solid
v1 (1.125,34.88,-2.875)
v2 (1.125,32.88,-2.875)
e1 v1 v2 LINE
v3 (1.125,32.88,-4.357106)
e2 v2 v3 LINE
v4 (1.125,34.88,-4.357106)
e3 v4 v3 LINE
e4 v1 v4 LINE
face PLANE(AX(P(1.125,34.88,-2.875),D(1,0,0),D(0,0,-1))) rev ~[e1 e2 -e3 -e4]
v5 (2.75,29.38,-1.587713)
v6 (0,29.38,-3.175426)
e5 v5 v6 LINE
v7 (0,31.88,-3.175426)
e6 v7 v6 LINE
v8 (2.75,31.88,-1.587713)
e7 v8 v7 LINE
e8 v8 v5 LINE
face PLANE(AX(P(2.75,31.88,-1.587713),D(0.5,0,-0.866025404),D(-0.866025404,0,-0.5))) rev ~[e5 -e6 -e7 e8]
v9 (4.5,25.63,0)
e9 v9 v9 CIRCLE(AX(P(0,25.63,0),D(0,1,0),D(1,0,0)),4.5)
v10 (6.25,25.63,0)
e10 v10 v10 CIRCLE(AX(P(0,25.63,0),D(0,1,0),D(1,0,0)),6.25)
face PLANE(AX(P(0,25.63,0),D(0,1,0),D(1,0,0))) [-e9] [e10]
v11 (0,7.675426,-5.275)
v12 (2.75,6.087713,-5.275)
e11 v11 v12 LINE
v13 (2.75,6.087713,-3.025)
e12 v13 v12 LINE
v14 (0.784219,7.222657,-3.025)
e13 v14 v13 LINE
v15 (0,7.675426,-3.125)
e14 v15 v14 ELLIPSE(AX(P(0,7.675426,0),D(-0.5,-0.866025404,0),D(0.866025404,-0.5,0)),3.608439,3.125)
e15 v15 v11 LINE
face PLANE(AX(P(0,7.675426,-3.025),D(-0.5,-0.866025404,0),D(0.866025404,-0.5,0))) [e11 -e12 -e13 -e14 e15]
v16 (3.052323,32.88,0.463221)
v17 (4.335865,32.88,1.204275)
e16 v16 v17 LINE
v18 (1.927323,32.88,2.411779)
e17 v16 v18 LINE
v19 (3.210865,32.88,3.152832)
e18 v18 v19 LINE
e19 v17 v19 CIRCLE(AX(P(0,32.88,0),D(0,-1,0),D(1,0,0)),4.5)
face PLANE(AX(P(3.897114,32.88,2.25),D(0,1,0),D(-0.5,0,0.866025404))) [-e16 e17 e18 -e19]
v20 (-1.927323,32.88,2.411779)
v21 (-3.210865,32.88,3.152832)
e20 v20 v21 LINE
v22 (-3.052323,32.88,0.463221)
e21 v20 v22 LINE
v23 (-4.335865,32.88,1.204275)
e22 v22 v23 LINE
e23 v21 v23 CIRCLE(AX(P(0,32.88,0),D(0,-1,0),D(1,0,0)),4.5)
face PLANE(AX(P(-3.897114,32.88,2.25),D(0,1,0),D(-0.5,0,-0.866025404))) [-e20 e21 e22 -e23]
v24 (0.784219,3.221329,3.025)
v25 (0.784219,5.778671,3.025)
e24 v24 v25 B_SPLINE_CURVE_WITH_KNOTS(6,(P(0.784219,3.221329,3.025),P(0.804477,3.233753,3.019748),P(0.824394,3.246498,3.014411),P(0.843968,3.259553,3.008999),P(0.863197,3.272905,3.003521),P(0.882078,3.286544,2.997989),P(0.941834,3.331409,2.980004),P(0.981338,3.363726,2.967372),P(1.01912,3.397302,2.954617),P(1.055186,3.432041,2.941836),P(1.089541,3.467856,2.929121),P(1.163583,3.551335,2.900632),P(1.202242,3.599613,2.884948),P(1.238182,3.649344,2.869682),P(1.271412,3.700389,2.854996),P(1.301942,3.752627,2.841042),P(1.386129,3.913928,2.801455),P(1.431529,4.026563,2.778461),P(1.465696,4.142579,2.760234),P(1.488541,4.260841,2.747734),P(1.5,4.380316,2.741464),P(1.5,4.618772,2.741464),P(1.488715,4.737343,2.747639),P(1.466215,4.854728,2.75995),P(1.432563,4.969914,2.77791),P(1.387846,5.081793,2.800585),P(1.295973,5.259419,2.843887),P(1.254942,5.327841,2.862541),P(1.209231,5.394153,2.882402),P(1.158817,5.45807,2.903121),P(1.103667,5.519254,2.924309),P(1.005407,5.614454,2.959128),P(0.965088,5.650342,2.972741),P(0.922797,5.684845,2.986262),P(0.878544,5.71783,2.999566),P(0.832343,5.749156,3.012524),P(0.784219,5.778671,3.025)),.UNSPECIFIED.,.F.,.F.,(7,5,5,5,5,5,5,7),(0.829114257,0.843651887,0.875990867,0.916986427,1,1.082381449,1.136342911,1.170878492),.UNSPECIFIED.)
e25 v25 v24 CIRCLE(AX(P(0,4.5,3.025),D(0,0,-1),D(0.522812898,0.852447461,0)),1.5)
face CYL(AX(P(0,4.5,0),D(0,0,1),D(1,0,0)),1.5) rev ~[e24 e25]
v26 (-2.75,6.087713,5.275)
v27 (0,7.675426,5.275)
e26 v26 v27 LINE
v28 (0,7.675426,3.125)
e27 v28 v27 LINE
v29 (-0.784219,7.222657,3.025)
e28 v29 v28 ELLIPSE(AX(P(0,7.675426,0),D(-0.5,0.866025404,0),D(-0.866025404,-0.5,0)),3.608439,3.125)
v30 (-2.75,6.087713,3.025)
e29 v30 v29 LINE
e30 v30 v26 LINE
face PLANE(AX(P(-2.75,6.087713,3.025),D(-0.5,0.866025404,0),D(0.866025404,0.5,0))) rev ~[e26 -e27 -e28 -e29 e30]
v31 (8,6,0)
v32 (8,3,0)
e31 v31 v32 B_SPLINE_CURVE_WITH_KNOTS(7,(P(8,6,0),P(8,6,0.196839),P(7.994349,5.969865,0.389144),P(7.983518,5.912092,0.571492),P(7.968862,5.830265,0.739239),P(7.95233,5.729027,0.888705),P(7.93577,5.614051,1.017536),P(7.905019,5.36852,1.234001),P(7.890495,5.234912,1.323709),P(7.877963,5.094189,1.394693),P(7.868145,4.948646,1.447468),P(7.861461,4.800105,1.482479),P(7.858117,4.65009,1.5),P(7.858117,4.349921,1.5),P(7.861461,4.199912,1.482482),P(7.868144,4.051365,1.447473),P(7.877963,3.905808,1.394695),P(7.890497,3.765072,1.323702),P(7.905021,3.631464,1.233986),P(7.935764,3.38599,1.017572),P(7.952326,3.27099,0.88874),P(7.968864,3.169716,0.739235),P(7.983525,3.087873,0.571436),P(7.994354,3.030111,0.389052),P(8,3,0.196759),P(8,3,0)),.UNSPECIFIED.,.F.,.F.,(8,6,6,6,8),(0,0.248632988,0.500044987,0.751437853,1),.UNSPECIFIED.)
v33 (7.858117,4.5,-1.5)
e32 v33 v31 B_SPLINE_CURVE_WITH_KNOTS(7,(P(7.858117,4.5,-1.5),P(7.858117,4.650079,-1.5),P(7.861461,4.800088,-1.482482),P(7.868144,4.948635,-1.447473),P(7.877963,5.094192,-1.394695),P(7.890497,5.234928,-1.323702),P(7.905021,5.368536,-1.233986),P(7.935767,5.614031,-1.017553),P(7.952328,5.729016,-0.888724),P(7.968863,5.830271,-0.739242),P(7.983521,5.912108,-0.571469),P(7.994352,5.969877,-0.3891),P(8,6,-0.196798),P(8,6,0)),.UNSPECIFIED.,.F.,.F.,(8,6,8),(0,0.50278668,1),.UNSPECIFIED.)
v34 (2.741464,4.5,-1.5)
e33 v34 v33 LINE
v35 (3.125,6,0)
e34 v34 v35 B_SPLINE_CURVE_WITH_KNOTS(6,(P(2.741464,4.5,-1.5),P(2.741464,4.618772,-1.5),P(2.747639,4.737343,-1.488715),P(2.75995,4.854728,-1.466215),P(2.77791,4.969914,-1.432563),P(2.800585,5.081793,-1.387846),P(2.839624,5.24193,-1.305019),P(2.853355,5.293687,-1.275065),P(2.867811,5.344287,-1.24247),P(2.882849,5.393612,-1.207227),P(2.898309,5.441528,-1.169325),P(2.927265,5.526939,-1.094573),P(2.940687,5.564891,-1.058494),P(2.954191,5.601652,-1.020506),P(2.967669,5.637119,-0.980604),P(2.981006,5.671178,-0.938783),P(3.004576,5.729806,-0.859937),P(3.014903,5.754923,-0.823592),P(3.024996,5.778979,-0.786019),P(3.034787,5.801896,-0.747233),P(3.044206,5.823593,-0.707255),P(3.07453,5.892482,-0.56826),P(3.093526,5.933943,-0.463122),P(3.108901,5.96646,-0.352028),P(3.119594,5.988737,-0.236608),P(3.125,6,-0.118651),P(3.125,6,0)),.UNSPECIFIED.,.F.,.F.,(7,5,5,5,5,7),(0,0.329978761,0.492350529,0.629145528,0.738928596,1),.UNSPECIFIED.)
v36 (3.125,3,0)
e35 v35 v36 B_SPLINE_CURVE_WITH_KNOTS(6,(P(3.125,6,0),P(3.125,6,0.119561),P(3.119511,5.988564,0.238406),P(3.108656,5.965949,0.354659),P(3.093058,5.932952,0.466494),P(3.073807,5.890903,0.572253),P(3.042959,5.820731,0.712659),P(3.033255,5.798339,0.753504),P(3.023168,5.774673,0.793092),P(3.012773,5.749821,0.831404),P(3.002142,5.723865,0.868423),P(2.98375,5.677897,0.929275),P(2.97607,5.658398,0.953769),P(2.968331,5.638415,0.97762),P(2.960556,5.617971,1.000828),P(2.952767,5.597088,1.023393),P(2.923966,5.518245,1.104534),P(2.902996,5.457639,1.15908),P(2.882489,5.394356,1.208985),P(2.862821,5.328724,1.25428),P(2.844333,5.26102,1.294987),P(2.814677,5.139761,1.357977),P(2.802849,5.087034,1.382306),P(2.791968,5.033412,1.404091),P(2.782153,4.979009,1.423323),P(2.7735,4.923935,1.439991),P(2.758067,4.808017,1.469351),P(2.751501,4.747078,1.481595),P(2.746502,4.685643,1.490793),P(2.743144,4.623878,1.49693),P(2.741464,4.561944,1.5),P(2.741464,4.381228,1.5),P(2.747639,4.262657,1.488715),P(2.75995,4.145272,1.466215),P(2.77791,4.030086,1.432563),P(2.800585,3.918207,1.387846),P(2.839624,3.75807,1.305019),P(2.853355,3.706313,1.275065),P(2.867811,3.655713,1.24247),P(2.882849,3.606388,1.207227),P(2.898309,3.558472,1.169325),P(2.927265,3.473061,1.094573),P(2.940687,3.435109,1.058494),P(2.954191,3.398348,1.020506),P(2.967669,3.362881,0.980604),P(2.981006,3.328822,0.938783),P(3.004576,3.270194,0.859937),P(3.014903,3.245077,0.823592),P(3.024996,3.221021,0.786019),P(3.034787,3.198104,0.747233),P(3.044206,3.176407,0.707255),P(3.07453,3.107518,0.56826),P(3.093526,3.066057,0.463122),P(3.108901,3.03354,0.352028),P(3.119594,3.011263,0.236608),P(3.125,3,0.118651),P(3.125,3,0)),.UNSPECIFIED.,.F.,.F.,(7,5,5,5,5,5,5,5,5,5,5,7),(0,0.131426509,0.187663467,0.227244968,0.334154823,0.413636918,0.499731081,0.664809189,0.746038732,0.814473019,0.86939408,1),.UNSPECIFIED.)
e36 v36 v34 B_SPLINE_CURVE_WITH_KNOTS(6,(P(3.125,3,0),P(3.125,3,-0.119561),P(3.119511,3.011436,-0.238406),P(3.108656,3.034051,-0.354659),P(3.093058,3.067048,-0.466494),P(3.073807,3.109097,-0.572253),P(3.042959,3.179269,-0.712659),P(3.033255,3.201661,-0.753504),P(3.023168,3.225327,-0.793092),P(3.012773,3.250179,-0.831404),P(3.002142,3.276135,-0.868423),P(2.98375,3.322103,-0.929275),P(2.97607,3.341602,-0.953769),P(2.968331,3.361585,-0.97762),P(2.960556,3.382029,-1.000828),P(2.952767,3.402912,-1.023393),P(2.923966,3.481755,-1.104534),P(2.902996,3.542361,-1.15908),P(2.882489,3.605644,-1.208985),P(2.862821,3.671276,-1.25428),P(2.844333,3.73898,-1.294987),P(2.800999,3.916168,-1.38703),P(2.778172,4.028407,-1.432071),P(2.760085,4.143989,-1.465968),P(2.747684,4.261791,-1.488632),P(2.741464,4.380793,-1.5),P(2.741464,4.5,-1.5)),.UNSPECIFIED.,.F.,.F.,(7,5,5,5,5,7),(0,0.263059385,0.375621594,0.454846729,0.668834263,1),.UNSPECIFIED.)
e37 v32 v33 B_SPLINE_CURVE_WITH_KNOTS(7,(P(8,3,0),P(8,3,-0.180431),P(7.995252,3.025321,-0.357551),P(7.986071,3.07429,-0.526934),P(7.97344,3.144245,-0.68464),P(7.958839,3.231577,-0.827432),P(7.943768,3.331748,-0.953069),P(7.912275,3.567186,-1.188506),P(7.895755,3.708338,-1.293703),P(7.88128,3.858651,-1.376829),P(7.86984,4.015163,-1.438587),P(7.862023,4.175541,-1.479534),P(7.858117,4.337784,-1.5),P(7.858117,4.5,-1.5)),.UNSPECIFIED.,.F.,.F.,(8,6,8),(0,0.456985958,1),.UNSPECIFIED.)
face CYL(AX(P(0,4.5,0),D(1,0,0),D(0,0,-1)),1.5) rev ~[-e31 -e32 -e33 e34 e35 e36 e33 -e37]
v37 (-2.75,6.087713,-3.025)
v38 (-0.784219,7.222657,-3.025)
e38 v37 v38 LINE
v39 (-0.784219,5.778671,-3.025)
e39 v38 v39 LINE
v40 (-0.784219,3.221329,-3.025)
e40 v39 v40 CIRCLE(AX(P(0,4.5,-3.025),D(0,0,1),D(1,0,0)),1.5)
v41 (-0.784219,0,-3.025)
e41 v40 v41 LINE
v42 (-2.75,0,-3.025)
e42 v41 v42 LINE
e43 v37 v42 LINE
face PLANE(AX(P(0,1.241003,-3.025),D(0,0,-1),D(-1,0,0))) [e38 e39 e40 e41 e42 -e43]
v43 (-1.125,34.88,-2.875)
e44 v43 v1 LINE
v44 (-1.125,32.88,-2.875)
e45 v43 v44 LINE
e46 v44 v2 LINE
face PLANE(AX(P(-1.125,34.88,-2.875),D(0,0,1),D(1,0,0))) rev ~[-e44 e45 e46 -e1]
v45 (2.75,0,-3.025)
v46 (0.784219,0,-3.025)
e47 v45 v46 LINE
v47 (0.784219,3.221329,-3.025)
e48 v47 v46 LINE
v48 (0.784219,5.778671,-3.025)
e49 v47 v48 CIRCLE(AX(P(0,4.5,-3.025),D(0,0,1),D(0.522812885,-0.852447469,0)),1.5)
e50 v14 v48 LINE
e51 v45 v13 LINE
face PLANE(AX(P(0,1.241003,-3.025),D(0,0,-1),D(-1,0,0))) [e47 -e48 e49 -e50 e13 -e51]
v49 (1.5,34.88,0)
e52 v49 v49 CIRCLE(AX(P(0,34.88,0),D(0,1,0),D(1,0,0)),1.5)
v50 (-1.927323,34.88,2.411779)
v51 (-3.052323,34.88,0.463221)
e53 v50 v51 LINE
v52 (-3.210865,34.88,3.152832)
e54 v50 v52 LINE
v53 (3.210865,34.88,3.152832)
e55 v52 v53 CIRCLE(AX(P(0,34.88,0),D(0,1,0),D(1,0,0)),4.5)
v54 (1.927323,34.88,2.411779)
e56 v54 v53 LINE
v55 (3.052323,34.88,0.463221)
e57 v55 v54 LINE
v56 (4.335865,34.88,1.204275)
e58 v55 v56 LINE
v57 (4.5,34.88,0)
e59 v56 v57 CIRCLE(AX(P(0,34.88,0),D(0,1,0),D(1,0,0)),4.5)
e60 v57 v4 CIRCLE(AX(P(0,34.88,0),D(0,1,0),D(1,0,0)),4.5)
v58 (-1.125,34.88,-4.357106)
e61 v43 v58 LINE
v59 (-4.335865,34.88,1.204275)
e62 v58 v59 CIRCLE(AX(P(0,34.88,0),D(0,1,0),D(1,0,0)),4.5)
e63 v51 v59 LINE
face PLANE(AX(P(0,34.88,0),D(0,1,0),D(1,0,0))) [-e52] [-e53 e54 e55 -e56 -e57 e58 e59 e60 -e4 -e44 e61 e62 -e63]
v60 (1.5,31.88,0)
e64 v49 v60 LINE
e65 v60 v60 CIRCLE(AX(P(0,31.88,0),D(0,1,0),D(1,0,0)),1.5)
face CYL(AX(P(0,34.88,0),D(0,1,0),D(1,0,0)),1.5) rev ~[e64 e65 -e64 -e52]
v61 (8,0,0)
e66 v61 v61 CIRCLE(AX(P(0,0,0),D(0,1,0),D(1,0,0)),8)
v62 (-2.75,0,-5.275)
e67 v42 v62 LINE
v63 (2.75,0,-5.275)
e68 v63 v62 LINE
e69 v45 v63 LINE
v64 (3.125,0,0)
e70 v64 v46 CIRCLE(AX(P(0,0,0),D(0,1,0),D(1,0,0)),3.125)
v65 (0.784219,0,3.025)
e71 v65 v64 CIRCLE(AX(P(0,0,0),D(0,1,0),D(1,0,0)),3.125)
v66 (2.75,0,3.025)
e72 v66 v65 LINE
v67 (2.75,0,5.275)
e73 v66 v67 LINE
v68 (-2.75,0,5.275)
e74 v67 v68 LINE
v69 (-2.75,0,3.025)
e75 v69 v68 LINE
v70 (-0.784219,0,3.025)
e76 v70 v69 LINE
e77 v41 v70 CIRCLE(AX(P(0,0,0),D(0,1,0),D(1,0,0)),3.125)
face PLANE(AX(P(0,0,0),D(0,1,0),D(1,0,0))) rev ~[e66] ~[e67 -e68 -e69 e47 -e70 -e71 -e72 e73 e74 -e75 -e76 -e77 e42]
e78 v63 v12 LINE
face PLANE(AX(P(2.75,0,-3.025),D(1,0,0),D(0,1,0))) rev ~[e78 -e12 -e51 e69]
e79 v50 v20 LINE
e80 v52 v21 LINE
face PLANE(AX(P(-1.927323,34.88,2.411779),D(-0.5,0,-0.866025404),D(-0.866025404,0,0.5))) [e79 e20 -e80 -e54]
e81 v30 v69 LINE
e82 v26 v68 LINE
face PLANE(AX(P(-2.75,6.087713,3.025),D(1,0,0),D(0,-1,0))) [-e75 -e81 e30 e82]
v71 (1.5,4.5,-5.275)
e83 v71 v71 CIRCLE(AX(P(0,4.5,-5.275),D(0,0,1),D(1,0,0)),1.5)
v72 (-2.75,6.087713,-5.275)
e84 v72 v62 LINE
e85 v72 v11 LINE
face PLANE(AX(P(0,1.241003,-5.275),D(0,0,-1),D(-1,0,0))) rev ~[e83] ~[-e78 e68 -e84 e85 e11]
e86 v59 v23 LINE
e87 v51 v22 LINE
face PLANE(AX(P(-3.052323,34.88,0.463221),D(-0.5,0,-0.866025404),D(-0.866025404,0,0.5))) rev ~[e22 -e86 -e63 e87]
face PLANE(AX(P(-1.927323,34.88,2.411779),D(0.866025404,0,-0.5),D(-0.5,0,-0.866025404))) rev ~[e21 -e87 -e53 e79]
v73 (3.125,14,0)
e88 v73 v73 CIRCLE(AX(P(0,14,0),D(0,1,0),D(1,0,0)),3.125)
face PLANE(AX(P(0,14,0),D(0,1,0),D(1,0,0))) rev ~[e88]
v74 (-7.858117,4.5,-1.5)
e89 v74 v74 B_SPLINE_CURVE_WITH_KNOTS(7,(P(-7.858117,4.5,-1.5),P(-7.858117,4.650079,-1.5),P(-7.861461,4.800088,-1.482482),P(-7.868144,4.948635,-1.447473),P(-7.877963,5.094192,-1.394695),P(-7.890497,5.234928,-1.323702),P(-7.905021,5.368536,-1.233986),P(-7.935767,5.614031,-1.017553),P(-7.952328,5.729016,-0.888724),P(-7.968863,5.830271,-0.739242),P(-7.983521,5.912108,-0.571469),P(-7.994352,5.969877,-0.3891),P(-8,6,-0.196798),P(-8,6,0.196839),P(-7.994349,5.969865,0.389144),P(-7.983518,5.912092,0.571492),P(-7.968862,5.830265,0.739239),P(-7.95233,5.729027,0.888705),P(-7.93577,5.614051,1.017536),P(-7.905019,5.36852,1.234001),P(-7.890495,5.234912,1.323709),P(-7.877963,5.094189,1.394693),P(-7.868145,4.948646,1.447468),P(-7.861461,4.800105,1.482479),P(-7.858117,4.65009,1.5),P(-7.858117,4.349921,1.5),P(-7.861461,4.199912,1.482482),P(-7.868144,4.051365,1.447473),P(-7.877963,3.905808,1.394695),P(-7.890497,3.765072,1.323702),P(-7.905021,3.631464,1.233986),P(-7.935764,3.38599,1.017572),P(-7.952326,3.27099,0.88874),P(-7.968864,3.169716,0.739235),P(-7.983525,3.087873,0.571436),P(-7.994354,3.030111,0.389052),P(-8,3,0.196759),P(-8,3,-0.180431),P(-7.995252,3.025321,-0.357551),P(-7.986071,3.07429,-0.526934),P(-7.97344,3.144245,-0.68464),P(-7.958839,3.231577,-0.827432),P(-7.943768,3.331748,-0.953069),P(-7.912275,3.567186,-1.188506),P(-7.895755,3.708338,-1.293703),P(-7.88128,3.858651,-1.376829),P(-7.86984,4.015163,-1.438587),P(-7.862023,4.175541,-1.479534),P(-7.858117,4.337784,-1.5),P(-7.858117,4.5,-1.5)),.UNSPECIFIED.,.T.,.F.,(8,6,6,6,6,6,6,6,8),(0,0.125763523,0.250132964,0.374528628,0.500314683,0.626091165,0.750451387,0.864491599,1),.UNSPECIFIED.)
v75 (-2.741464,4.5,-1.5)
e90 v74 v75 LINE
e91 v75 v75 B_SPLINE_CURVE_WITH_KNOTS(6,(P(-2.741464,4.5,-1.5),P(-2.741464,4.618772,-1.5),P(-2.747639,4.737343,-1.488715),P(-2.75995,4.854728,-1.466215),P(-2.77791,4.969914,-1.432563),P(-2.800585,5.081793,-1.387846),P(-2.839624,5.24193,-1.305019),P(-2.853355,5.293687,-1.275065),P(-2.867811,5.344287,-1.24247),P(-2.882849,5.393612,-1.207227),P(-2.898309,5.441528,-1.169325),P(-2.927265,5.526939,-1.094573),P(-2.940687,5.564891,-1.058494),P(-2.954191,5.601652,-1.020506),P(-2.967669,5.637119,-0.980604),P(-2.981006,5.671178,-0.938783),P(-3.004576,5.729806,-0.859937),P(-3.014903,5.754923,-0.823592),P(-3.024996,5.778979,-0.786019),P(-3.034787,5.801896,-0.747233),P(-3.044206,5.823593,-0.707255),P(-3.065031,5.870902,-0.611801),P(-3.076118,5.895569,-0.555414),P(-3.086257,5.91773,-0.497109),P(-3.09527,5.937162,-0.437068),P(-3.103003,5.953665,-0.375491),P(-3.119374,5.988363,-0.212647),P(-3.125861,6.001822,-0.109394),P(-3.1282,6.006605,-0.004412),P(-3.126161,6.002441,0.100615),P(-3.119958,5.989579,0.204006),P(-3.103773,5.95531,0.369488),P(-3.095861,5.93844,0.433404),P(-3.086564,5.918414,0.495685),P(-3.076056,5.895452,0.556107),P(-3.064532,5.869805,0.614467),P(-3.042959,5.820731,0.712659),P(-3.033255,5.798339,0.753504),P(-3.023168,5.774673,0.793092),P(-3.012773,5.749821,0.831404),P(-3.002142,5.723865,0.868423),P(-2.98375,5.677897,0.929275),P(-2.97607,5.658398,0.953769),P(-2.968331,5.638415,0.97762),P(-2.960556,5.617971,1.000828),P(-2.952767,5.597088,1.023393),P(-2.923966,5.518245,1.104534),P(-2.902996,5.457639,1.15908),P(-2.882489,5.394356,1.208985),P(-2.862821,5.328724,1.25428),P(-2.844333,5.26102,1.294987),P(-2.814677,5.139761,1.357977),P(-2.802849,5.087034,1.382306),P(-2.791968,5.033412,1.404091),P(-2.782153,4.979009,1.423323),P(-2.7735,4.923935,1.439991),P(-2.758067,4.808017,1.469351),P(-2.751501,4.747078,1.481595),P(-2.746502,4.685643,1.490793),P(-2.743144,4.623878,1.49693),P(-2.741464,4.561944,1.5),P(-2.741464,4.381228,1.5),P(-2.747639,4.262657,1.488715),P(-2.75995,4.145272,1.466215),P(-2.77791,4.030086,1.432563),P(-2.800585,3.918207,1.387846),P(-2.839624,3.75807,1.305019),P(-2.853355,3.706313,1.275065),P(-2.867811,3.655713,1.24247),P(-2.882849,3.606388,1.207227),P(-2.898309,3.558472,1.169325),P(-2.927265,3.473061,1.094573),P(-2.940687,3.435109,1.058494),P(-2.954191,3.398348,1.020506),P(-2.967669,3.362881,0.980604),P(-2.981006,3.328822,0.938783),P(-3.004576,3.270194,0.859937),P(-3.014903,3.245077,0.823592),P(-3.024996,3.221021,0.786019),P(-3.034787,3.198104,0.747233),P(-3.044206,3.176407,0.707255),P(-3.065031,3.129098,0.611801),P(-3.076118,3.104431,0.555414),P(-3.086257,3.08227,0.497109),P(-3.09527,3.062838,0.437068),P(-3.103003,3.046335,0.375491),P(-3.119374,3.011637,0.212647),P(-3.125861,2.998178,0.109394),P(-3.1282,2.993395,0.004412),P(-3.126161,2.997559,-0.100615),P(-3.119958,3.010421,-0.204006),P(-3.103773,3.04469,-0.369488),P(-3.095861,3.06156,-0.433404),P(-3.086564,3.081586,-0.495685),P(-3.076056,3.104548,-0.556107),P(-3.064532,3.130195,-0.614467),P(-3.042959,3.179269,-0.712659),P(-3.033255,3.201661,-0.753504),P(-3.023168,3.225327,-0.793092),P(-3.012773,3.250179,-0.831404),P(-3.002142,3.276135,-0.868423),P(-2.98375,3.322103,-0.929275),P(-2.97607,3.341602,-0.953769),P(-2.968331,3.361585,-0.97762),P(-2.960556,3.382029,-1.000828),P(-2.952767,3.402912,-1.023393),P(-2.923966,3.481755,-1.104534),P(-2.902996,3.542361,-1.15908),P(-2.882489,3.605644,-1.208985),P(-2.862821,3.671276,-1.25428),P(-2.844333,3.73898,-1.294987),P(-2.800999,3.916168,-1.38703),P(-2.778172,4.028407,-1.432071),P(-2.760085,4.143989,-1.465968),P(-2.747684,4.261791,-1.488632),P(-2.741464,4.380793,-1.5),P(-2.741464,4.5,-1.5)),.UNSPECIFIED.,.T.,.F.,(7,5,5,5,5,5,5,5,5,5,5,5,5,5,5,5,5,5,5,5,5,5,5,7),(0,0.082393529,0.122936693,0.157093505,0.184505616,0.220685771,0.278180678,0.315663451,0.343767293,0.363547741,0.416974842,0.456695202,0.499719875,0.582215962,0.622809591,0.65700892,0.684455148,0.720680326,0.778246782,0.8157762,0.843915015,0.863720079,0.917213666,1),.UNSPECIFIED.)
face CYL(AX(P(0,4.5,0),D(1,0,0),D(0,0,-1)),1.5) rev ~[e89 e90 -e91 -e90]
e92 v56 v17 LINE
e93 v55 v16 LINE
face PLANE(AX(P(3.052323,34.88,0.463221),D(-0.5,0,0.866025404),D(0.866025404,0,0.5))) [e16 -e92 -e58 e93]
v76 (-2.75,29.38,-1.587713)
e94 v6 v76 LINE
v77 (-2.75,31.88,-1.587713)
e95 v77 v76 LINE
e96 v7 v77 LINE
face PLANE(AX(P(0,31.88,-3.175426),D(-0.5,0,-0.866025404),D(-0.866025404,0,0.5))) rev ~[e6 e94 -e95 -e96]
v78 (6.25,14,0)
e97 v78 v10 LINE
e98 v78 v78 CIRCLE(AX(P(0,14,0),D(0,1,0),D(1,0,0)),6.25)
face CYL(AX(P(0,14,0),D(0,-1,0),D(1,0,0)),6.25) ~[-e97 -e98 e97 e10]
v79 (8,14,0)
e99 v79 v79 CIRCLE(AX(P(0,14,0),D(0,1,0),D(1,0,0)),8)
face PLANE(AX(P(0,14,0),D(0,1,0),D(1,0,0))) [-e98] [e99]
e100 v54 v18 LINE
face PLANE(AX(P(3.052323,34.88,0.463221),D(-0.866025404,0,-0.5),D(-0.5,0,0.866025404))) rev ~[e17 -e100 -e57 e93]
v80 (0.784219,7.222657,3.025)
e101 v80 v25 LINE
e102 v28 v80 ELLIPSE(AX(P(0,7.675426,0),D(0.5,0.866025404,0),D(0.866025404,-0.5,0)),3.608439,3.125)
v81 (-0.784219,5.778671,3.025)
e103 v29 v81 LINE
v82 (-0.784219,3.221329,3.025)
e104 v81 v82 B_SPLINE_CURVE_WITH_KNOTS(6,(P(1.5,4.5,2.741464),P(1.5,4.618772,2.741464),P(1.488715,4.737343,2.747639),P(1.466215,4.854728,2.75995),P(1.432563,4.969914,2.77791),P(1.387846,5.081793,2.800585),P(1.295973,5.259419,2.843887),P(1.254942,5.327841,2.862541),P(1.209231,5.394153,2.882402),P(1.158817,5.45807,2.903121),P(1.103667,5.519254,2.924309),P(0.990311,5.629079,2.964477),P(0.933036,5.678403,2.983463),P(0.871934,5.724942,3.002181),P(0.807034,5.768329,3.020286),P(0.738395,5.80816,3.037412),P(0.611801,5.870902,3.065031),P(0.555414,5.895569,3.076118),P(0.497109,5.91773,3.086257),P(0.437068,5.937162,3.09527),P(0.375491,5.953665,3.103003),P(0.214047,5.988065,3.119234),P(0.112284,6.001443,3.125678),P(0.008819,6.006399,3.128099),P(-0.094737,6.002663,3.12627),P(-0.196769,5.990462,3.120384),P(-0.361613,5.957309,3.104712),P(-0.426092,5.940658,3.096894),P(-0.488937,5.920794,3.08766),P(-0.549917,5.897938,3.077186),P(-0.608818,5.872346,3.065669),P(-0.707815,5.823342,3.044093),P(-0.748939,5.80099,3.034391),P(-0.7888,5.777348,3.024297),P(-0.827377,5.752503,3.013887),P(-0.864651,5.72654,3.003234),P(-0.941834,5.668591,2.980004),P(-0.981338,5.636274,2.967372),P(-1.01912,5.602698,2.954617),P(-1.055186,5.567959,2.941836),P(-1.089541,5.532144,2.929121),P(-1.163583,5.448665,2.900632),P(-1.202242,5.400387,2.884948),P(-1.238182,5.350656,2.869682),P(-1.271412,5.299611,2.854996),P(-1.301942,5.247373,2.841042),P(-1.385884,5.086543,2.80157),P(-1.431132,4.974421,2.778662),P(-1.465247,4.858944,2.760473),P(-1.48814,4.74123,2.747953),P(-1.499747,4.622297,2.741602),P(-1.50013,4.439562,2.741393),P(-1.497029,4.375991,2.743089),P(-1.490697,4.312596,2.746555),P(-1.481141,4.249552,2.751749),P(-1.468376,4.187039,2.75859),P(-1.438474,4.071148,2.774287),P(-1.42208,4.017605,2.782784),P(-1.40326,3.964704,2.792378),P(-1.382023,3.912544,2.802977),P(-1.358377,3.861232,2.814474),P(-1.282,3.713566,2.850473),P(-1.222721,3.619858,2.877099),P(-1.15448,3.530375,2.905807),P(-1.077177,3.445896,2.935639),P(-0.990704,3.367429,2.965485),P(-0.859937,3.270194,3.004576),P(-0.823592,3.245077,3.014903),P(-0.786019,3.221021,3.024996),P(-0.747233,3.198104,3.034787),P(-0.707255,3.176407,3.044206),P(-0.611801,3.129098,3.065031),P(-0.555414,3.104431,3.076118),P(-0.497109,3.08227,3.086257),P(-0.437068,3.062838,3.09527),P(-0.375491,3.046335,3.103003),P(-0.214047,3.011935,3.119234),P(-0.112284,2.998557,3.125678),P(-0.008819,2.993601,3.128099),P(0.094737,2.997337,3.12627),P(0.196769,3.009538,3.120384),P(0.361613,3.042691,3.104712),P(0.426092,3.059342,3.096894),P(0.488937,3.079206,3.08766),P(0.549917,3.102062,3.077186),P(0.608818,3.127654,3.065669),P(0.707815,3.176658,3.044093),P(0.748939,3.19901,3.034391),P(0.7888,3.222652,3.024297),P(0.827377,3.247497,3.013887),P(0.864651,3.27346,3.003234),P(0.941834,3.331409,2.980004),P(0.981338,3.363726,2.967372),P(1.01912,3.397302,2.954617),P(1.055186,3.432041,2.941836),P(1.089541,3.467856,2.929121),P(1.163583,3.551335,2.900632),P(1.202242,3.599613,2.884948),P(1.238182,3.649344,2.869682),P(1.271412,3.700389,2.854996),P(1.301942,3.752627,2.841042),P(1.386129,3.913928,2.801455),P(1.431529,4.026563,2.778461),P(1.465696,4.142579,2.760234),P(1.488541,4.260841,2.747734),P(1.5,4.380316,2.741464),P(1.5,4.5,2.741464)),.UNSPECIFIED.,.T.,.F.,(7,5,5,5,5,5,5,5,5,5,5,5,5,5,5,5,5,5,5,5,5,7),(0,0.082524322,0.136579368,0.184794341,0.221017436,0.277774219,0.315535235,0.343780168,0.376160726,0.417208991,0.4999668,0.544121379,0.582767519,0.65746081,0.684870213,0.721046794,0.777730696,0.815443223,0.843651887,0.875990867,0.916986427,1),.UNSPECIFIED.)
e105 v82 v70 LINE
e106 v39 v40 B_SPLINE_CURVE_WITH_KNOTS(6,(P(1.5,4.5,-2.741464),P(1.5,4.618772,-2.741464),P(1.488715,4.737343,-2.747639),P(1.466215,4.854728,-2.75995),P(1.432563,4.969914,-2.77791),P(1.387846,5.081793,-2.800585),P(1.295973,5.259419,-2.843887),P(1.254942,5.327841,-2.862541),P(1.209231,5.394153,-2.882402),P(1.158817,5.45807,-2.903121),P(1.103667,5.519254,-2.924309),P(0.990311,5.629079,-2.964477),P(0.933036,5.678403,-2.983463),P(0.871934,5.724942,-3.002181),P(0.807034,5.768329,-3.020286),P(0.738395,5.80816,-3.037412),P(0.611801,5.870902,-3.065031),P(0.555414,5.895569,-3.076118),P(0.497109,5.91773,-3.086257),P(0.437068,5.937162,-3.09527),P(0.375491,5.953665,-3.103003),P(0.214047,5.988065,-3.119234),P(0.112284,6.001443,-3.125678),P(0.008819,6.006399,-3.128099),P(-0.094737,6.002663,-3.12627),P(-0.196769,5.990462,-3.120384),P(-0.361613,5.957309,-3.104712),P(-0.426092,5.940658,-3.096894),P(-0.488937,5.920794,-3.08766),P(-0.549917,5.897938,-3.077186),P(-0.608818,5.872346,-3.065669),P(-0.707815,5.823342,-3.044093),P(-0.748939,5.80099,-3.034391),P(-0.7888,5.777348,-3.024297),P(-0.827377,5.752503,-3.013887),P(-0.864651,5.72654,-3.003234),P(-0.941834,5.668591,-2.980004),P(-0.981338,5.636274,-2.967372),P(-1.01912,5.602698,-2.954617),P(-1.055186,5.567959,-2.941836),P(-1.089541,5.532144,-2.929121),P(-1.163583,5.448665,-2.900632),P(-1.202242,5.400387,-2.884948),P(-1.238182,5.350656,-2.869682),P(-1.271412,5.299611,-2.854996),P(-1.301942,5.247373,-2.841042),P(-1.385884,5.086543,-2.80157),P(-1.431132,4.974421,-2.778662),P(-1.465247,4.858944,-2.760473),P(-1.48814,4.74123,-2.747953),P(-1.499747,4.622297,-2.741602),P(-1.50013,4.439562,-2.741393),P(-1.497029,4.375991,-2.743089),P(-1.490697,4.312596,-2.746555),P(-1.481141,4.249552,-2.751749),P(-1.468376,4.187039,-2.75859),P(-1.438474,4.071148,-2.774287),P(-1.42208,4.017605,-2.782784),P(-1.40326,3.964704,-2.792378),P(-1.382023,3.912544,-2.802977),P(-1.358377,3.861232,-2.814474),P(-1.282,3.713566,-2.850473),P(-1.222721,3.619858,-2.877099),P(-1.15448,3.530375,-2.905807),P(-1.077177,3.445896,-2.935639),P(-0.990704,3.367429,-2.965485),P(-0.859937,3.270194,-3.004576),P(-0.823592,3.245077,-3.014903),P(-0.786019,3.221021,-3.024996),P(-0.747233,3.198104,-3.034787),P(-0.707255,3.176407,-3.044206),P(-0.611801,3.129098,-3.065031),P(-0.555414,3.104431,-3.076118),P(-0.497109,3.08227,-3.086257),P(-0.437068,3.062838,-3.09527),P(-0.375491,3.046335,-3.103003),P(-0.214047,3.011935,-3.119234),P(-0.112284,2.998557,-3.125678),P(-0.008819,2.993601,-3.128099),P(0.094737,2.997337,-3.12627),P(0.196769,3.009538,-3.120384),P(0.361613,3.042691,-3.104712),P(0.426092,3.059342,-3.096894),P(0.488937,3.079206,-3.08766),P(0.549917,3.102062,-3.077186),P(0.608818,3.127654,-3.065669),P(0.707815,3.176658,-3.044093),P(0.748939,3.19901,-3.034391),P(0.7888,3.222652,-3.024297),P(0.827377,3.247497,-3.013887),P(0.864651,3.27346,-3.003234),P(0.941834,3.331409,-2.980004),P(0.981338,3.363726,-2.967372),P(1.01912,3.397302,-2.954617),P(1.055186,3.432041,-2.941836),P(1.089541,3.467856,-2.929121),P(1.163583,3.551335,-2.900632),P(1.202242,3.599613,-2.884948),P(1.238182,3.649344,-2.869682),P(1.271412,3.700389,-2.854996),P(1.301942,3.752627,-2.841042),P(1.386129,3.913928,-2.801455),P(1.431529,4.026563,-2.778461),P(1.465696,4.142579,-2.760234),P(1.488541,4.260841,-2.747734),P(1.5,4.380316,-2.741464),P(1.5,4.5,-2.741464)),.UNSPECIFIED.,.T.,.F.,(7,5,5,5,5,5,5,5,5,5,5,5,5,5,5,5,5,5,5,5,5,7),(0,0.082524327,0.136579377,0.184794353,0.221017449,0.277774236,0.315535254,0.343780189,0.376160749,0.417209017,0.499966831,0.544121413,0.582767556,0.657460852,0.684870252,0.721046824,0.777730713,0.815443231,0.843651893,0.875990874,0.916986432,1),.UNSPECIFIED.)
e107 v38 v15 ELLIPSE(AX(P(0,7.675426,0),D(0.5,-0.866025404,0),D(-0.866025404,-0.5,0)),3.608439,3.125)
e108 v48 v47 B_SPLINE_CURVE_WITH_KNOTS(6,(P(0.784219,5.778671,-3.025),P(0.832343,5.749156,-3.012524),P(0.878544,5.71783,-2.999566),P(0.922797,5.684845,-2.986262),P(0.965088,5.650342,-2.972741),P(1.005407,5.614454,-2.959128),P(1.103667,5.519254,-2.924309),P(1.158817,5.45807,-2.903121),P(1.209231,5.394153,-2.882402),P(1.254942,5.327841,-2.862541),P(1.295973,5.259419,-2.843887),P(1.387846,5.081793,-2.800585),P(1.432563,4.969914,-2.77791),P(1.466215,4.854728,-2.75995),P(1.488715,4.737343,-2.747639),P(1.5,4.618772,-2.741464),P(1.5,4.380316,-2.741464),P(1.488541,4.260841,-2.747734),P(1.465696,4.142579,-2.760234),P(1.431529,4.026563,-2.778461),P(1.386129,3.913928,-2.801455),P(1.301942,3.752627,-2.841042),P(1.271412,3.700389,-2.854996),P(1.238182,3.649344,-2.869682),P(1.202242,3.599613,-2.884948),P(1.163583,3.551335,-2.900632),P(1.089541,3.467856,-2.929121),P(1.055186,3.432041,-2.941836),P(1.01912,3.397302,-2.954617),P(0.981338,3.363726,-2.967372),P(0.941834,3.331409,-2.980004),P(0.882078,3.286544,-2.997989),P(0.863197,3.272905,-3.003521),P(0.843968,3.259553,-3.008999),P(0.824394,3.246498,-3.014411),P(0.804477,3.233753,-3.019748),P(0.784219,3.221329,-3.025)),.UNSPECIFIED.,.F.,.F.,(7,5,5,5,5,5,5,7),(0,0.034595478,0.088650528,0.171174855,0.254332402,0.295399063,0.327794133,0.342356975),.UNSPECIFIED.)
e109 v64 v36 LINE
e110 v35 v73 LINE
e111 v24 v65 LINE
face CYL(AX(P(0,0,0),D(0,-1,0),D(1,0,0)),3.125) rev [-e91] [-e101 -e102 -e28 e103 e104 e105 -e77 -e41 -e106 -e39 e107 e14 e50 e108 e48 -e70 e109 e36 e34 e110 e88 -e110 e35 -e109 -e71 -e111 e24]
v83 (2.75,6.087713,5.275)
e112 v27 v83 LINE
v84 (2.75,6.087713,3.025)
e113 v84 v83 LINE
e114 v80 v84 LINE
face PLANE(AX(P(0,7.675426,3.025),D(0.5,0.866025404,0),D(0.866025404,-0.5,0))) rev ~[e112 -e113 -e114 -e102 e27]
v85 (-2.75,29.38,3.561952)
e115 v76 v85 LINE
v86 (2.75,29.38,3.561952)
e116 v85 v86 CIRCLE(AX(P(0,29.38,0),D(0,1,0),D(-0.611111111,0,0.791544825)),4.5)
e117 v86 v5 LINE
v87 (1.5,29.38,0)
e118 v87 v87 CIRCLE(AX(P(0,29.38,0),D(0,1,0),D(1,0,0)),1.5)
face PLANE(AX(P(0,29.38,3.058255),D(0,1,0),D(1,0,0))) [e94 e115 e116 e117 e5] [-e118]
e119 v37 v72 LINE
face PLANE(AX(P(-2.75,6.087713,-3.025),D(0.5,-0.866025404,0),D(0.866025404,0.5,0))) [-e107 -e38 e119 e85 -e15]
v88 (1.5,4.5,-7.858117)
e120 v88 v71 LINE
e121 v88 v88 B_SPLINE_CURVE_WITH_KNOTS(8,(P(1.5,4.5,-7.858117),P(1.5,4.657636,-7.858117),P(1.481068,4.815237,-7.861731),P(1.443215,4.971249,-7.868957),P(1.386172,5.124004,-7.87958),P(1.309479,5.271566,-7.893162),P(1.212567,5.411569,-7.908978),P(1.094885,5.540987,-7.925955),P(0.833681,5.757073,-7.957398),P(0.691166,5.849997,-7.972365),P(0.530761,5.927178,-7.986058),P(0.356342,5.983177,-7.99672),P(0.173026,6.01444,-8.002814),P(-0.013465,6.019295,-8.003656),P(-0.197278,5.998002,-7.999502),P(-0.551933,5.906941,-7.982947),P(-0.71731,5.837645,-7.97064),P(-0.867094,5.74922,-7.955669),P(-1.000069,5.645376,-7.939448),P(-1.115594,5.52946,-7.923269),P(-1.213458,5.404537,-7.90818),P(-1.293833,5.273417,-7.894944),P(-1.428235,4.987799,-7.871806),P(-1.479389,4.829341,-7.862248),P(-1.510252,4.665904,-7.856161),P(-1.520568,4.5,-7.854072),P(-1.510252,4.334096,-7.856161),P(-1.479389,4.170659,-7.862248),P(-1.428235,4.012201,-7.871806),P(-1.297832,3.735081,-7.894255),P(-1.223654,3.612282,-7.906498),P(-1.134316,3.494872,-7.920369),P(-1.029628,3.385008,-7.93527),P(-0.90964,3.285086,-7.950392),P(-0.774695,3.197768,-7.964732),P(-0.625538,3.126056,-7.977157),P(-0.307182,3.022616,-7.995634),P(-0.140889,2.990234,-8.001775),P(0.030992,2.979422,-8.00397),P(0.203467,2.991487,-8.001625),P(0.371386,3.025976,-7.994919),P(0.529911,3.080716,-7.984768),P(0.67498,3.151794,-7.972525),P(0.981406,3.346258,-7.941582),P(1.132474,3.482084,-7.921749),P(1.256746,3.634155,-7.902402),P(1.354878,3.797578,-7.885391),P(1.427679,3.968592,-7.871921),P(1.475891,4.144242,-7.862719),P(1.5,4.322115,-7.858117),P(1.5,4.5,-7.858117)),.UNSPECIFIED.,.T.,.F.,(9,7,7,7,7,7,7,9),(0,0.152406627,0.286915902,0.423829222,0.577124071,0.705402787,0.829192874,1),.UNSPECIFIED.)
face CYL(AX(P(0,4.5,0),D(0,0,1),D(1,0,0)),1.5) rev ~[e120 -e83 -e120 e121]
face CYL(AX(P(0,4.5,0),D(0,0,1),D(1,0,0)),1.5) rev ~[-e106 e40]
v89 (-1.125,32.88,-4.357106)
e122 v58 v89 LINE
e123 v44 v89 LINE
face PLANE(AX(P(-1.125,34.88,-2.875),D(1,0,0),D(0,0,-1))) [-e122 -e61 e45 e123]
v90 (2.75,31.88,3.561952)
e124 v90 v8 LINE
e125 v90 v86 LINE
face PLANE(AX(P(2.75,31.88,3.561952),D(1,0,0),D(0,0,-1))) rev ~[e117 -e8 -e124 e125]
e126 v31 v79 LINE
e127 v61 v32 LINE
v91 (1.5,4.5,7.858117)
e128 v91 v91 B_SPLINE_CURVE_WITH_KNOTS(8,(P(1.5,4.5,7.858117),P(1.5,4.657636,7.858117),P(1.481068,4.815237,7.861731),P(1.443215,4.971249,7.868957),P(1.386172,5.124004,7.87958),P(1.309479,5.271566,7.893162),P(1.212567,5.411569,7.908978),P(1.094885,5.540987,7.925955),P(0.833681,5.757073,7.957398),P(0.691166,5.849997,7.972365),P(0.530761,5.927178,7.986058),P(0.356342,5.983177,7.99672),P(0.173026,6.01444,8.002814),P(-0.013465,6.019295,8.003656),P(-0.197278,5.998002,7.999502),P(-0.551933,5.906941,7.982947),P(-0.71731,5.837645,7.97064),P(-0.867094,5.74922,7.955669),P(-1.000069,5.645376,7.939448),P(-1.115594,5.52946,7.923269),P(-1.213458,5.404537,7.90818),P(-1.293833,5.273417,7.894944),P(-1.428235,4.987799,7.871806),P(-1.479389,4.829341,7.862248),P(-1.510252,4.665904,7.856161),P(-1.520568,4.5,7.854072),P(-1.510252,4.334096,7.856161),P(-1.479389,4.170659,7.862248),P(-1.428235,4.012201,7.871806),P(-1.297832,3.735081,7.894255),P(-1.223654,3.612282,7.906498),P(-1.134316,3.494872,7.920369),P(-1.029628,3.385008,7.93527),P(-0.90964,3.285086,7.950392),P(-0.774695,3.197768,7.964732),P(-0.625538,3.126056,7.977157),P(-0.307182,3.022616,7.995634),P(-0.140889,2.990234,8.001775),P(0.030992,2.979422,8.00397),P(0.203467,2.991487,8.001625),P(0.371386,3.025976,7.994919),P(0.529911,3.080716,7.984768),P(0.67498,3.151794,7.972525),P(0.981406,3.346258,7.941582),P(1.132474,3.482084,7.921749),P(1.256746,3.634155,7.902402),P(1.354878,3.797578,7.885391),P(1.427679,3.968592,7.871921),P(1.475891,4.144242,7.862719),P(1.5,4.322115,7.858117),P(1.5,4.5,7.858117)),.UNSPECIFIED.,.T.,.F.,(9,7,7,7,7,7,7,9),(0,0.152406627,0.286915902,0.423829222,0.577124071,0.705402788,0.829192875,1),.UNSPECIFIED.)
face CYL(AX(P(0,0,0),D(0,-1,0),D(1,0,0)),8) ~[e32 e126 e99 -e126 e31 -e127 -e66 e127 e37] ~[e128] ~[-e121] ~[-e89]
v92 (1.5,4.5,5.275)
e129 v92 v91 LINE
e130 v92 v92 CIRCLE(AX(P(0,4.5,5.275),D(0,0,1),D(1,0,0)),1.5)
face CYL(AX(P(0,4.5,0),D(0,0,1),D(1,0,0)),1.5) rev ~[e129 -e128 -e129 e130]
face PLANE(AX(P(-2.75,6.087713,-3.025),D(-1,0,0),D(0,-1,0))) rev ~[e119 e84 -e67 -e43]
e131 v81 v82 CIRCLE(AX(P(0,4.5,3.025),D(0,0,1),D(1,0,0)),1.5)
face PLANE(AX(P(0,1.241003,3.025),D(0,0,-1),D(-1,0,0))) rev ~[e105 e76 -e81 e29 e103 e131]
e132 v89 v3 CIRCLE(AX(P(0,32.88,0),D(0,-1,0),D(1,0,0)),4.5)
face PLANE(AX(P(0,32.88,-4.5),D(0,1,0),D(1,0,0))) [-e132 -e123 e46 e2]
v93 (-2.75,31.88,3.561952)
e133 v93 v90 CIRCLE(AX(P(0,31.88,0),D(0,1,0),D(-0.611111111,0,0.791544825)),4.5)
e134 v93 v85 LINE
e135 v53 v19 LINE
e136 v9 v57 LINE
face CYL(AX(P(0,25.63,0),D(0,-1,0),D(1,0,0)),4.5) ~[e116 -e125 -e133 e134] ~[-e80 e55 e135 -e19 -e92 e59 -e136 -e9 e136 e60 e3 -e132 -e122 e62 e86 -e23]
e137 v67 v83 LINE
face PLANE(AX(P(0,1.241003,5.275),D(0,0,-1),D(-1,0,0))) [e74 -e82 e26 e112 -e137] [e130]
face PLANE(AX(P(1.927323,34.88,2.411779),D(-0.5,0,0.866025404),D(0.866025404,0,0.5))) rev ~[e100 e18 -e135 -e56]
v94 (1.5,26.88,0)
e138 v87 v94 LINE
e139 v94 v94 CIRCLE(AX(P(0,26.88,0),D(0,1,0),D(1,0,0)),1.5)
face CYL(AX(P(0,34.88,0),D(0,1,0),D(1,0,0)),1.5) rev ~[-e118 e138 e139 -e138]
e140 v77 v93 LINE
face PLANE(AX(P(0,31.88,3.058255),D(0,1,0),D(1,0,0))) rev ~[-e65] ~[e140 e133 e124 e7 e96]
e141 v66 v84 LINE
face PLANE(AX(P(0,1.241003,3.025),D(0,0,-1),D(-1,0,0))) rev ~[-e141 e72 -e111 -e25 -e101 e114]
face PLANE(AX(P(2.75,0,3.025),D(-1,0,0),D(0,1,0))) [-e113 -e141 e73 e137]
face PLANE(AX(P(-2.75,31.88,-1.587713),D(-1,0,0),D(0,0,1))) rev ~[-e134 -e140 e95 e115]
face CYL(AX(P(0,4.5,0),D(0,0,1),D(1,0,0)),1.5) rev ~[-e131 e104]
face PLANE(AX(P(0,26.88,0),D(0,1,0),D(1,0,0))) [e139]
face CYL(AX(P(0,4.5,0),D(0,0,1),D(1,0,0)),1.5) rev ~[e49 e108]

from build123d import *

# Parameters (mm, degrees)
SKETCH1_R           = 8
SKETCH1_R_2         = 3.125
BOSS_EXTRUDE1_DEPTH = 14
SKETCH2_R           = 1.5
CUT_EXTRUDE1_DEPTH  = 9
CUT_EXTRUDE2_START  = -3.025
CUT_EXTRUDE2_DEPTH  = 2.25
CUT_EXTRUDE3_START  = 3.025
CUT_EXTRUDE3_DEPTH  = 2.25
SKETCH5_R           = 6.25
BOSS_EXTRUDE2_DEPTH = 11.63
SKETCH6_R           = 4.5
BOSS_EXTRUDE3_DEPTH = 9.25
SKETCH7_R           = 1.5
CUT_EXTRUDE4_DEPTH  = 8
CUT_EXTRUDE5_START  = -3
SKETCH8_R           = 1.5
CUT_EXTRUDE5_DEPTH  = 2.5
SKETCH9_W           = 2.25
SKETCH9_H           = 3.25
CUT_EXTRUDE6_DEPTH  = 2
CIRPATTERN1_COUNT   = 3
CIRPATTERN3_COUNT   = 2
CIRPATTERN3_ANGLE   = 90


with BuildPart() as part:
    # Sketch1 → Boss-Extrude1 (new body)
    with BuildSketch(Plane(origin=(0, 0, 0), x_dir=(1, 0, 0), z_dir=(0, 1, 0))):
        Circle(SKETCH1_R)
        Circle(SKETCH1_R_2, mode=Mode.SUBTRACT)
    extrude(amount=BOSS_EXTRUDE1_DEPTH)

    # Sketch2 → Cut-Extrude1 (cut, symmetric)
    with BuildSketch(Plane.XY):
        with Locations((0, 4.5)):
            Circle(SKETCH2_R)
    cut_extrude1 = extrude(amount=CUT_EXTRUDE1_DEPTH, both=True, mode=Mode.SUBTRACT)

    # Sketch3 → Cut-Extrude2 (cut)
    with BuildSketch(Plane.XY.offset(CUT_EXTRUDE2_START)):
        Polygon((-2.75, 2.91228676), (0, 1.324573519), (2.75, 2.91228676), (2.75, 0), (-2.75, 0), align=None)
        Polygon((2.75, 2.91228676), (-2.75, 2.91228676), (-2.75, 6.08771324), (0, 7.675426481), (2.75, 6.08771324), align=None)
        Polygon((0, 1.324573519), (2.75, 2.91228676), (-2.75, 2.91228676), align=None)
    extrude(amount=-CUT_EXTRUDE2_DEPTH, mode=Mode.SUBTRACT)

    # Sketch4 → Cut-Extrude3 (cut)
    with BuildSketch(Plane.XY.offset(CUT_EXTRUDE3_START)):
        Polygon((-2.75, 2.91228676), (0, 1.324573519), (2.75, 2.91228676), (2.75, 0), (-2.75, 0), align=None)
        Polygon((0, 1.324573519), (2.75, 2.91228676), (-2.75, 2.91228676), align=None)
        Polygon((2.75, 2.91228676), (-2.75, 2.91228676), (-2.75, 6.08771324), (0, 7.675426481), (2.75, 6.08771324), align=None)
    extrude(amount=CUT_EXTRUDE3_DEPTH, mode=Mode.SUBTRACT)

    # Sketch5 → Boss-Extrude2 (add)
    with BuildSketch(Plane(origin=(0, 14, 0), x_dir=(1, 0, 0), z_dir=(0, 1, 0))):
        Circle(SKETCH5_R)
    extrude(amount=BOSS_EXTRUDE2_DEPTH)

    # Sketch6 → Boss-Extrude3 (add)
    with BuildSketch(Plane(origin=(0, 25.63, 0), x_dir=(1, 0, 0), z_dir=(0, 1, 0))):
        Circle(SKETCH6_R)
    extrude(amount=BOSS_EXTRUDE3_DEPTH)

    # Sketch7 → Cut-Extrude4 (cut)
    with BuildSketch(Plane(origin=(0, 34.88, 0), x_dir=(1, 0, 0), z_dir=(0, 1, 0))):
        Circle(SKETCH7_R)
    extrude(amount=-CUT_EXTRUDE4_DEPTH, mode=Mode.SUBTRACT)

    # Sketch8 → Cut-Extrude5 (cut)
    with BuildSketch(Plane(origin=(0, 34.88, 0), x_dir=(1, 0, 0), z_dir=(0, 1, 0)).offset(CUT_EXTRUDE5_START)):
        with BuildLine():
            Line((2.75, -1.58771324), (0, -3.175426481))
            Line((0, -3.175426481), (-2.75, -1.58771324))
            Line((-2.75, -1.58771324), (-2.75, -3.561951712))
            ThreePointArc((-2.75, -3.561951712), (0, -4.5), (2.75, -3.561951712))
            Line((2.75, -3.561951712), (2.75, -1.58771324))
        make_face()
        Polygon((-2.75, -1.58771324), (2.75, -1.58771324), (0, -3.175426481), align=None)
        Polygon((-2.75, 1.58771324), (-2.75, -1.58771324), (2.75, -1.58771324), (2.75, 1.58771324), (0, 3.175426481), align=None)
        Circle(SKETCH8_R, mode=Mode.SUBTRACT)
    extrude(amount=-CUT_EXTRUDE5_DEPTH, mode=Mode.SUBTRACT)

    # Sketch9 → Cut-Extrude6 (cut)
    with BuildSketch(Plane(origin=(0, 34.88, 0), x_dir=(1, 0, 0), z_dir=(0, 1, 0))):
        with Locations((0, 4.5)):
            Rectangle(SKETCH9_W, SKETCH9_H)
    cut_extrude6 = extrude(amount=-CUT_EXTRUDE6_DEPTH, mode=Mode.SUBTRACT)

    # CirPattern1: Cut-Extrude6 ×3 about axis
    cirpattern1_axis = Axis((0, 0, 0), (0, 1, 0))
    for i in range(1, CIRPATTERN1_COUNT):
        add(cut_extrude6.rotate(cirpattern1_axis, i * 360 / CIRPATTERN1_COUNT), mode=Mode.SUBTRACT)

    # CirPattern3: Cut-Extrude1 ×2 about axis
    cirpattern3_axis = Axis((0, 0, 0), (0, 1, 0))
    for i in range(1, CIRPATTERN3_COUNT):
        add(cut_extrude1.rotate(cirpattern3_axis, i * CIRPATTERN3_ANGLE / (CIRPATTERN3_COUNT - 1)), mode=Mode.SUBTRACT)


solid = part.part
